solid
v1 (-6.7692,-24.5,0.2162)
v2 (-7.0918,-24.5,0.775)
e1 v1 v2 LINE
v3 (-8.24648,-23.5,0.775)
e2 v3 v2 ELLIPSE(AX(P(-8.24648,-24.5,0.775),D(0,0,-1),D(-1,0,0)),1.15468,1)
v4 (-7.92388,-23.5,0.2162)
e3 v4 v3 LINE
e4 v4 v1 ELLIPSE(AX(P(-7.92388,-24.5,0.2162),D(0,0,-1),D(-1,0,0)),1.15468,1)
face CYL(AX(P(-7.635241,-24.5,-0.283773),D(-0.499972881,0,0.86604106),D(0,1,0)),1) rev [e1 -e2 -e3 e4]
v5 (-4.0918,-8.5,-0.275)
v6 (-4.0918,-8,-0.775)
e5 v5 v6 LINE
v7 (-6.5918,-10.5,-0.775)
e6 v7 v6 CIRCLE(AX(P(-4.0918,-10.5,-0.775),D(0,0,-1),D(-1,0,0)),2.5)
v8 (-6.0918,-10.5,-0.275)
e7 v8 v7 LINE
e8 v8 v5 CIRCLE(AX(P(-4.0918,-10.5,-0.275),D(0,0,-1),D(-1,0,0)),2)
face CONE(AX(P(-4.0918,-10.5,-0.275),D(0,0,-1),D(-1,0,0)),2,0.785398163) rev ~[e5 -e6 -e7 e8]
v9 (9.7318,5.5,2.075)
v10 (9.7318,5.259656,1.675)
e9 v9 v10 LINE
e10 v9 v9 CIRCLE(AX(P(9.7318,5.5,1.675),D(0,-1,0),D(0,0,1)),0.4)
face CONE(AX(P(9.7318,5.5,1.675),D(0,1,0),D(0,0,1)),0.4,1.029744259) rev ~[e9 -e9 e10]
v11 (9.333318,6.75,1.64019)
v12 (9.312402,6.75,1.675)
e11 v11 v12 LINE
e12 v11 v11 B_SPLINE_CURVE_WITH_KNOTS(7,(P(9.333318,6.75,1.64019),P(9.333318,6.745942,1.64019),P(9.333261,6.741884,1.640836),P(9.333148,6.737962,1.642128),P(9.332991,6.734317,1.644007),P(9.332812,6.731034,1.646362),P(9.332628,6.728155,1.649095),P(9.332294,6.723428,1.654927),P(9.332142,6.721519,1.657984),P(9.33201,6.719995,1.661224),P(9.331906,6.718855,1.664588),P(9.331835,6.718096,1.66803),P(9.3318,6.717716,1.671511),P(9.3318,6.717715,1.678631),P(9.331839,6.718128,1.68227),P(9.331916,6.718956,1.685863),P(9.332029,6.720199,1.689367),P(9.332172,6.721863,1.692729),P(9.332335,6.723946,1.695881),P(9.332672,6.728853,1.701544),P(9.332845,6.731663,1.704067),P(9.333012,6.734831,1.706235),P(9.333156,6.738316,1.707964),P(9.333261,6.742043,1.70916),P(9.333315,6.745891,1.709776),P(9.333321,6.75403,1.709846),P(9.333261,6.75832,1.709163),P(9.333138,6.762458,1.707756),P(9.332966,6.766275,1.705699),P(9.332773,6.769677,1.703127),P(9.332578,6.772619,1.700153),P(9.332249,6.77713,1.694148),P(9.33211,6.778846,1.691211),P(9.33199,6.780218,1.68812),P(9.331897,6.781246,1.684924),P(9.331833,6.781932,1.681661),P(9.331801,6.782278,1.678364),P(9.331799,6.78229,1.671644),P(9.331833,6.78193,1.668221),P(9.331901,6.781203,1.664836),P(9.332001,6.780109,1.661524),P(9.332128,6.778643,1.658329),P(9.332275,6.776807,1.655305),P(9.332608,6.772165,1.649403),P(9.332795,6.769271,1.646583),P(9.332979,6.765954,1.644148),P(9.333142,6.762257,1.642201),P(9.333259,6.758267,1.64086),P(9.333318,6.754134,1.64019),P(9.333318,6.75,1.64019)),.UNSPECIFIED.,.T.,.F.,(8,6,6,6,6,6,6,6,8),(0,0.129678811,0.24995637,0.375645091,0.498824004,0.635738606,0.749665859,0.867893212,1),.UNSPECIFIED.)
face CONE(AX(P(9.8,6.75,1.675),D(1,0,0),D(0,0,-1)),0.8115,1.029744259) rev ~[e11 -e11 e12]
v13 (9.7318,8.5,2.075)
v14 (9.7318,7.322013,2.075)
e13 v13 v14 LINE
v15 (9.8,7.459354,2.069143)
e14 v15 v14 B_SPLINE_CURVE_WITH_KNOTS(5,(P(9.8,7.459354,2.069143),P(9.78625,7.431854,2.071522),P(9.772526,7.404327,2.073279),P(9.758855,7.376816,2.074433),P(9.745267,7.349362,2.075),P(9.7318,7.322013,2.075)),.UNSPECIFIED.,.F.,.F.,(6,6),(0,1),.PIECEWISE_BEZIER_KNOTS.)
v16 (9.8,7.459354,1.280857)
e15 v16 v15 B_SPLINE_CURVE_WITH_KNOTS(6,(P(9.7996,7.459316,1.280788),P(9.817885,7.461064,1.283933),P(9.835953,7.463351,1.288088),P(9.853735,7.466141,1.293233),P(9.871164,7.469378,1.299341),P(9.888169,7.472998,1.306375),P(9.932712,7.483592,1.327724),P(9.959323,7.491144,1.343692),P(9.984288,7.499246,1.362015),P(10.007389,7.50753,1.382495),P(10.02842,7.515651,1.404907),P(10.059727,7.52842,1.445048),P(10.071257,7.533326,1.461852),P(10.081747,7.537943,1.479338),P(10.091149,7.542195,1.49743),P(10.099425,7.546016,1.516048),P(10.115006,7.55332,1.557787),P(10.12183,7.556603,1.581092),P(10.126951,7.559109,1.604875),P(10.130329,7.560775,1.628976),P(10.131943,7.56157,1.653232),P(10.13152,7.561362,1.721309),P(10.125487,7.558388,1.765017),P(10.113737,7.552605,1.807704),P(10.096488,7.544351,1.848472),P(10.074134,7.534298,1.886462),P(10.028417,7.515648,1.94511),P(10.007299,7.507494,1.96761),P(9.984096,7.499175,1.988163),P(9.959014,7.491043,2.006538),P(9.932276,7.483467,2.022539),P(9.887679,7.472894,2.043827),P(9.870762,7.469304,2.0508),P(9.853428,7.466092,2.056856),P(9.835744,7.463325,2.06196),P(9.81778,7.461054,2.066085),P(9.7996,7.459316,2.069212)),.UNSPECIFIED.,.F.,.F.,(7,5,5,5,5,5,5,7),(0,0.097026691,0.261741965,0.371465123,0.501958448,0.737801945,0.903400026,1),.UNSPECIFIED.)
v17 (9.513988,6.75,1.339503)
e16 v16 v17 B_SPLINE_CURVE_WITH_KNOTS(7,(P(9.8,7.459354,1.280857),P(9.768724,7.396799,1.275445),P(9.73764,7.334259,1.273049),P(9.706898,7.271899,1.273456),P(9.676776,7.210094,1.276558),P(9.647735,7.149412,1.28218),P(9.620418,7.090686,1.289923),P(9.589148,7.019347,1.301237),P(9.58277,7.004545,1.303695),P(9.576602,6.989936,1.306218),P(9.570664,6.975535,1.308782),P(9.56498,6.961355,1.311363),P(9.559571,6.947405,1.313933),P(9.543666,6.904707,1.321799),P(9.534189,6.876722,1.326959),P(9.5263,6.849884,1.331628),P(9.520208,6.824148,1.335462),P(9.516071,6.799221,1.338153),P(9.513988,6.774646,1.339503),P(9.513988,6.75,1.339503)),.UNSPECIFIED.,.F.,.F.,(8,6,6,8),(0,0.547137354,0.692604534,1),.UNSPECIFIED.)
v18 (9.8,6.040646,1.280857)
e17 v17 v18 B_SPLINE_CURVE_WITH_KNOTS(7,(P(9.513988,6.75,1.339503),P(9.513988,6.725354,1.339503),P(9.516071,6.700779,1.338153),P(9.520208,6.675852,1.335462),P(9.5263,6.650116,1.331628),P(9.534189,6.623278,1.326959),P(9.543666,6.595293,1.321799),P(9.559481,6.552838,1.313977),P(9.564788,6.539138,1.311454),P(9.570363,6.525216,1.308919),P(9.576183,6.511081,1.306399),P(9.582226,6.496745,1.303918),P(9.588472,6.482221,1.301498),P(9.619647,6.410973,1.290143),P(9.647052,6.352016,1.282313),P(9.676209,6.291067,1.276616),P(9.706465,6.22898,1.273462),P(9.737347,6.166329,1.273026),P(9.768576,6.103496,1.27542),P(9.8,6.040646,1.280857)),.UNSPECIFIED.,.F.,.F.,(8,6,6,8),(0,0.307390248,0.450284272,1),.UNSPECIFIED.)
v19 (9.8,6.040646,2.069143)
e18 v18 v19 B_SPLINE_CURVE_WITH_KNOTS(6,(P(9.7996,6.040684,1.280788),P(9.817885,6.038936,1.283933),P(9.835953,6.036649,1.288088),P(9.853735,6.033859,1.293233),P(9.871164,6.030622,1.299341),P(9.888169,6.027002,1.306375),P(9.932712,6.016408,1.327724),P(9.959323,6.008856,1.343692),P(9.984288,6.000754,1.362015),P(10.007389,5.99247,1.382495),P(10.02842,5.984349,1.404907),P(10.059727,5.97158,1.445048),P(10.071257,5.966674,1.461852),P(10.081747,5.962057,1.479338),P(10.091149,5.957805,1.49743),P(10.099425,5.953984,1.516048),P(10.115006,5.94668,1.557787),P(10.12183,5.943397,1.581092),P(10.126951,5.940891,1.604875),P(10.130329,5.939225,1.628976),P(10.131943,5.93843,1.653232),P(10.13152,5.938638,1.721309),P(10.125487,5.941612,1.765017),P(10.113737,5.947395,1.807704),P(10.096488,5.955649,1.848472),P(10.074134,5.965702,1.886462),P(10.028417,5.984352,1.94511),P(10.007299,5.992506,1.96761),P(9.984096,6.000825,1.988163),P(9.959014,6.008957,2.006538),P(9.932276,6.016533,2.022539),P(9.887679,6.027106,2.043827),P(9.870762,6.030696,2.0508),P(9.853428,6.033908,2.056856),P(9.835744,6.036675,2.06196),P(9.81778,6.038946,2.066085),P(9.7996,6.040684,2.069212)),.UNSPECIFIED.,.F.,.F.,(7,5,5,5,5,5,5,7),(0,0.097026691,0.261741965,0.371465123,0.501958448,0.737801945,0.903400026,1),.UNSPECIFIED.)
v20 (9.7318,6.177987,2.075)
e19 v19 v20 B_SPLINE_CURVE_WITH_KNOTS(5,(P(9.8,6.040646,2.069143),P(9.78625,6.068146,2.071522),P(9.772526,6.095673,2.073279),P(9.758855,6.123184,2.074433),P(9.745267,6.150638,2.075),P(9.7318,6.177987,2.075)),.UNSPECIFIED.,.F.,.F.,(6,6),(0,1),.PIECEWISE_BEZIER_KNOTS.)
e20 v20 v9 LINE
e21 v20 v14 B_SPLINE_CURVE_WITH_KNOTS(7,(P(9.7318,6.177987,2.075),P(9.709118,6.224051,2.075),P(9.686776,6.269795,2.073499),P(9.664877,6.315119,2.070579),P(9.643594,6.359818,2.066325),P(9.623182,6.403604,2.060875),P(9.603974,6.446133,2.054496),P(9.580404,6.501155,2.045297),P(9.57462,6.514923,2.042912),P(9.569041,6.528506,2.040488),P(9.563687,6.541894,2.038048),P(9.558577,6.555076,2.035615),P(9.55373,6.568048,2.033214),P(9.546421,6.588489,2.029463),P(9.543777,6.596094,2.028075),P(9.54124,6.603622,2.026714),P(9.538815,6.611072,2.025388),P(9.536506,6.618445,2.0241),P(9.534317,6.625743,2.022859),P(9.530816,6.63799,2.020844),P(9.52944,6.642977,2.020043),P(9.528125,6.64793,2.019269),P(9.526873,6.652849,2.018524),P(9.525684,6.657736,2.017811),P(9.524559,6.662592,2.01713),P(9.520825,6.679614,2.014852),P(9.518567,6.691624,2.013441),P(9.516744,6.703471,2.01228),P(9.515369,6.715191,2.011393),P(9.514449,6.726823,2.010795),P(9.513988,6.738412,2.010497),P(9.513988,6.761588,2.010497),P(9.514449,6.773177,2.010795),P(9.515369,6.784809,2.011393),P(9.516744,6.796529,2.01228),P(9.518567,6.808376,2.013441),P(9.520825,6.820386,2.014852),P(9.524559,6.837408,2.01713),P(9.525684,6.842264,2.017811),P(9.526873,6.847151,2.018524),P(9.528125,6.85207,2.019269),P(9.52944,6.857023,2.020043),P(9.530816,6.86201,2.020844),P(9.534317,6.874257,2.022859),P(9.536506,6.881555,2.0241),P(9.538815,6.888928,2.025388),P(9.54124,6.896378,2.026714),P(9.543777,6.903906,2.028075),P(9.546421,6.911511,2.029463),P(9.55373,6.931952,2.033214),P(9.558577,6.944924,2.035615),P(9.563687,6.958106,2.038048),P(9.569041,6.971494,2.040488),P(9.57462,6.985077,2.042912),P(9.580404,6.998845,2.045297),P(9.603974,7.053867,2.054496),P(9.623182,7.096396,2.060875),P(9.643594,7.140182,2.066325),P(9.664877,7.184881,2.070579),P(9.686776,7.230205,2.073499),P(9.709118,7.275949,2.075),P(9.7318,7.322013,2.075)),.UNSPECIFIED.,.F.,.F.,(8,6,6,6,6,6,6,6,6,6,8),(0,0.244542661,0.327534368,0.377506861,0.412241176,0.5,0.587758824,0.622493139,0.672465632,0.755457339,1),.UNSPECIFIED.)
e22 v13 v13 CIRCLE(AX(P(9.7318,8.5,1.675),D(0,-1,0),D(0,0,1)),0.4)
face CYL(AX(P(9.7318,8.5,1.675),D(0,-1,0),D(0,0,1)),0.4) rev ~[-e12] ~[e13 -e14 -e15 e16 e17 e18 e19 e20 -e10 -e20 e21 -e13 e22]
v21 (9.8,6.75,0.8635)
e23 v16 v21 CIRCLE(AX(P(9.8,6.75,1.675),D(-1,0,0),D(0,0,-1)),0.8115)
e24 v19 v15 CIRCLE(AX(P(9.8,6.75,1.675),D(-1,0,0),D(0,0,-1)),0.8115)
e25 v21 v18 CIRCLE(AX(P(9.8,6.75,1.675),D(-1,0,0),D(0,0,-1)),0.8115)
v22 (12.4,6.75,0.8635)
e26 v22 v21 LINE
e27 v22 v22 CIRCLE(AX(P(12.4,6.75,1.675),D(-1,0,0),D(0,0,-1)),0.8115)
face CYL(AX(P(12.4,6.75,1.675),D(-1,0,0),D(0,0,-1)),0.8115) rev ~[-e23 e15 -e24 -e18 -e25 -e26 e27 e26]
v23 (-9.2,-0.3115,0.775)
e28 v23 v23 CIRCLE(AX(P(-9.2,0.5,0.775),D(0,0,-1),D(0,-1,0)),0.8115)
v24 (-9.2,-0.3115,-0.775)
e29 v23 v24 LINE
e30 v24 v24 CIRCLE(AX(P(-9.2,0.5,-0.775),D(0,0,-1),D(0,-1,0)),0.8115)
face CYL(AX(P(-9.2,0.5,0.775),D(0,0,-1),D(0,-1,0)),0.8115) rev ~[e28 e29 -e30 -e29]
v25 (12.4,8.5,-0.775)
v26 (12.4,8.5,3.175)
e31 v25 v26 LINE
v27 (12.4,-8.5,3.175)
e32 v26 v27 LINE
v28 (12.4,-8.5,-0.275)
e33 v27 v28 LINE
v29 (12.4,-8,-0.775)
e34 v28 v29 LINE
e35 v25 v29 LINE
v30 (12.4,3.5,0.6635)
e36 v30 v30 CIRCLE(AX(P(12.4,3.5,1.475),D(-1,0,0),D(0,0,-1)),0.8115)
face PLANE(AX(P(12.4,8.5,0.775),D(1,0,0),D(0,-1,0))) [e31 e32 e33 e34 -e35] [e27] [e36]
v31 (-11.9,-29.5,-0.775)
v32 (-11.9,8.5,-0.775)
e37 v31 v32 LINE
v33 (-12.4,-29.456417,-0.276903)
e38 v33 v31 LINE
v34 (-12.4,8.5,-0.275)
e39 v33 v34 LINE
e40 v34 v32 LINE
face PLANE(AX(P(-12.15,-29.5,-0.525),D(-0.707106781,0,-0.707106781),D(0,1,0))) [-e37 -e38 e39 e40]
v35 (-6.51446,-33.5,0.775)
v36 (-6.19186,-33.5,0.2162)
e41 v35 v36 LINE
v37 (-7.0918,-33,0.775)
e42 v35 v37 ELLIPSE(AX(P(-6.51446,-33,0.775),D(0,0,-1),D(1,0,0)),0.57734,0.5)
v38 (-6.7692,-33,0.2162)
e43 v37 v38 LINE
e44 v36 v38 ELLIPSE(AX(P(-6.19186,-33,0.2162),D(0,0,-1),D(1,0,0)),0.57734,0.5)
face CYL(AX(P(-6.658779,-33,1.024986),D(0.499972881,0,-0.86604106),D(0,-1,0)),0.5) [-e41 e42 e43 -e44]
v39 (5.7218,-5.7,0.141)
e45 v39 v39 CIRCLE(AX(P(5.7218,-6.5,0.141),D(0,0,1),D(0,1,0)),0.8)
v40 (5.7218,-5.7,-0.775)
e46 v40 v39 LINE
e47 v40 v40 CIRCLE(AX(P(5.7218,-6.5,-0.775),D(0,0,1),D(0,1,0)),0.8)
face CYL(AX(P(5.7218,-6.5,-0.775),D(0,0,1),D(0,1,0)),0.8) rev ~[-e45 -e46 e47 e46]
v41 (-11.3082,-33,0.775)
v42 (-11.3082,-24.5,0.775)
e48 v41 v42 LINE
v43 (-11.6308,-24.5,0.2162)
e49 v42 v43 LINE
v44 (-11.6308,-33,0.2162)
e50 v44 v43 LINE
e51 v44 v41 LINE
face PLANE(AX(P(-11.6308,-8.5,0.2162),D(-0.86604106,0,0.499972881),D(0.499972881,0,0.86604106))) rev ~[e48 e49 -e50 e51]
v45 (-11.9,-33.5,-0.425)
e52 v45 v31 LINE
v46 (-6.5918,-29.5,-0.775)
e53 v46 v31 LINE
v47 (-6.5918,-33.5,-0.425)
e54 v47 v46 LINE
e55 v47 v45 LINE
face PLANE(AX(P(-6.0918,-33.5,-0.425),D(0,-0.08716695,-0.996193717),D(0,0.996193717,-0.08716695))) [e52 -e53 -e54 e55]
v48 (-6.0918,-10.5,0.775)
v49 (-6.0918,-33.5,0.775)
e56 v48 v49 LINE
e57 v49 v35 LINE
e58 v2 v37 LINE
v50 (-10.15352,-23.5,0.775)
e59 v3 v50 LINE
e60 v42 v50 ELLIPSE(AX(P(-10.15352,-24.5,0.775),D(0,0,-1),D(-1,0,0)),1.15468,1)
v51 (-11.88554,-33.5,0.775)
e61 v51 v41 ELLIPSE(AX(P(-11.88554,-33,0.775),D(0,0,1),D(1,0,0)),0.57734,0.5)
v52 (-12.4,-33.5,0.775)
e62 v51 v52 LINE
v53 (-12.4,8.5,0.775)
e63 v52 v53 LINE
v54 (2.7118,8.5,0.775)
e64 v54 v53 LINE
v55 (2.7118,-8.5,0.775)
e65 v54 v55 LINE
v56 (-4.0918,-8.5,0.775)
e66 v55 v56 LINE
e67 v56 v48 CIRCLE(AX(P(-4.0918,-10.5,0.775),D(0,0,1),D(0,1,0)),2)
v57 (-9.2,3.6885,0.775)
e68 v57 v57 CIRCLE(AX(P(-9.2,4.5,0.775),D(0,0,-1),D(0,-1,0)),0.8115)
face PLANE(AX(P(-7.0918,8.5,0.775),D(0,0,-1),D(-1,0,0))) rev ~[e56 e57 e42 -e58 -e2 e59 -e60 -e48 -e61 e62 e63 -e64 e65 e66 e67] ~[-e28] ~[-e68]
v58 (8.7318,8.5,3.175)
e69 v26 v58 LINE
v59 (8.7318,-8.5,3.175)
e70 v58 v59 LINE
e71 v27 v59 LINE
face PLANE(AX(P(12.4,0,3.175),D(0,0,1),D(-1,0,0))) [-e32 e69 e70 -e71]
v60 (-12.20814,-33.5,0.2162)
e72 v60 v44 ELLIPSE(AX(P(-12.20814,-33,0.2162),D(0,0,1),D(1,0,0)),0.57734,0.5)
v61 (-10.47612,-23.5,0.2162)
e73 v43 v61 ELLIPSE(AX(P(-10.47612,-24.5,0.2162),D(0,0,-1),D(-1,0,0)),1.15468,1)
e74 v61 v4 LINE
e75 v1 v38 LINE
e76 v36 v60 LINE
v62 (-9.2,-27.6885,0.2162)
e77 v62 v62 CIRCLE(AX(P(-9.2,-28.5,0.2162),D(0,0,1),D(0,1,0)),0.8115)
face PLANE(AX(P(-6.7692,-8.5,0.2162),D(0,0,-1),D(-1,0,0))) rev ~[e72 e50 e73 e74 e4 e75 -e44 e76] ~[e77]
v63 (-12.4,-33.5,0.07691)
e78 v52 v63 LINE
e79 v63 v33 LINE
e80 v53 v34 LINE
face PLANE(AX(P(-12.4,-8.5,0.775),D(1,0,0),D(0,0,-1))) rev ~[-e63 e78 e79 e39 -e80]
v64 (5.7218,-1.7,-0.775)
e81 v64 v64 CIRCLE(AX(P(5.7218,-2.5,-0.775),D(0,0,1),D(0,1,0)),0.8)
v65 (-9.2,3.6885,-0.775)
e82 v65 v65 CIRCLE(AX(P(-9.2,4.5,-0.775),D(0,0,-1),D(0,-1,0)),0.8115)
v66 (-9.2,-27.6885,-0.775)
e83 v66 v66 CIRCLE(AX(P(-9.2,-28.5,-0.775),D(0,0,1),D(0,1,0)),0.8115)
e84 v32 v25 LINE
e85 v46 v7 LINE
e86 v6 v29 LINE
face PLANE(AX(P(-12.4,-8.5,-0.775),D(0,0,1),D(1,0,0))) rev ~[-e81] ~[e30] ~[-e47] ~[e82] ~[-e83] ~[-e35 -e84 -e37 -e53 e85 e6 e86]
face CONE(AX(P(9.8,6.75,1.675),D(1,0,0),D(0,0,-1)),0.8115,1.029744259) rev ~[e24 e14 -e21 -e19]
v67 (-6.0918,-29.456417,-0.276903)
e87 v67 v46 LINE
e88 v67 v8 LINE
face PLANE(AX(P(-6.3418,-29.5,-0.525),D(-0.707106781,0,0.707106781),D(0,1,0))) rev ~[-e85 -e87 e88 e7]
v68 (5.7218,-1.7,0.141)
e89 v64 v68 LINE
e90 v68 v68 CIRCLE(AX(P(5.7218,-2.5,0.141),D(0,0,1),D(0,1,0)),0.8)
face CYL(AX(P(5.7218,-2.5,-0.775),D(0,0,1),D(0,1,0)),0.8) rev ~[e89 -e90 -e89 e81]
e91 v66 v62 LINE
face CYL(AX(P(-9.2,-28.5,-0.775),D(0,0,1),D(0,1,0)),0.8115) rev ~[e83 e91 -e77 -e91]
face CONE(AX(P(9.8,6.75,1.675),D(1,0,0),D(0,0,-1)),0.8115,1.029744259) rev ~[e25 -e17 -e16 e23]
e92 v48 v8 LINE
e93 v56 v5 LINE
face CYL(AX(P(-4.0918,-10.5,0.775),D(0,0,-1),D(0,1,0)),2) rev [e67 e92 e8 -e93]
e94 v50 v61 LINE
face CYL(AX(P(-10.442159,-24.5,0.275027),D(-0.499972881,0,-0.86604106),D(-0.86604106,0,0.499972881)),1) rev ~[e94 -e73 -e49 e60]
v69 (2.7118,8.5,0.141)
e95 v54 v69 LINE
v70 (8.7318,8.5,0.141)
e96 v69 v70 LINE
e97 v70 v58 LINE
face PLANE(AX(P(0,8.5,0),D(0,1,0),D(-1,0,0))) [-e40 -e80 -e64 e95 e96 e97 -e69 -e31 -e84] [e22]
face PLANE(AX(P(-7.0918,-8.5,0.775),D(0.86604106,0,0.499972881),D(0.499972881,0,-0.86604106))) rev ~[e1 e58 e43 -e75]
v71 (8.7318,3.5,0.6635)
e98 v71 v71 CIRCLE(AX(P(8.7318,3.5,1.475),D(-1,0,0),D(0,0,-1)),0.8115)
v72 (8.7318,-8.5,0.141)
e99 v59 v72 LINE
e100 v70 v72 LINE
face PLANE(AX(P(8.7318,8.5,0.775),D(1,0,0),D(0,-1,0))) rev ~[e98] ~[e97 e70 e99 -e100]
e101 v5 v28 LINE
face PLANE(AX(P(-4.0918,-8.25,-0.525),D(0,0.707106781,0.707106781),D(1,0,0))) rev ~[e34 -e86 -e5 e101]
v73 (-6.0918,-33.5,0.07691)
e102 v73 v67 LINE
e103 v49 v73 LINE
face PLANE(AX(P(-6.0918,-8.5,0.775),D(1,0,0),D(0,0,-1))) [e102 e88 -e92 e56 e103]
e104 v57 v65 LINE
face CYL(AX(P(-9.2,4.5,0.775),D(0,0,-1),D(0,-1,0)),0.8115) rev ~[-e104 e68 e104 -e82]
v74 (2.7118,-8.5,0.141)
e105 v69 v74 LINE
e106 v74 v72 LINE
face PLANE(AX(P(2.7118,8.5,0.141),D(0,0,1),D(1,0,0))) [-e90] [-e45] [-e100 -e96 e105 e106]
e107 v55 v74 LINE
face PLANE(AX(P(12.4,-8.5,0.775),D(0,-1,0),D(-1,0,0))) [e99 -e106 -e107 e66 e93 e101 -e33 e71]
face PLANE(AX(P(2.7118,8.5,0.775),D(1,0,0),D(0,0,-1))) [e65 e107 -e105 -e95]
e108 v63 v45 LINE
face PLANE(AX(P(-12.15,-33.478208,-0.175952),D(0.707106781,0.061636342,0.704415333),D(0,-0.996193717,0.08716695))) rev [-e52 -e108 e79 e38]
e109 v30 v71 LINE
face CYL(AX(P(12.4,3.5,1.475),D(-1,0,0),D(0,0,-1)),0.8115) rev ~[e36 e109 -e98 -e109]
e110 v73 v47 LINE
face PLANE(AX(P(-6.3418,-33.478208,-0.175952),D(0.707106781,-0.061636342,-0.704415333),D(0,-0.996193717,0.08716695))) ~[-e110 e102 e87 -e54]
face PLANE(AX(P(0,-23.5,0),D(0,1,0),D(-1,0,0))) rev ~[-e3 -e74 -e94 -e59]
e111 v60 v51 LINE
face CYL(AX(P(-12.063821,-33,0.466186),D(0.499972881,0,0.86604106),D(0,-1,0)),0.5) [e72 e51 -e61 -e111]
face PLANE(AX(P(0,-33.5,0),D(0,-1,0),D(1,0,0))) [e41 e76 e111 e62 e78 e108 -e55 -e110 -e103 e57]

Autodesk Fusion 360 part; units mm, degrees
sketch "Sketch1" plane through (0, 0, 0) normal (0, 1, 0) x (1, 0, 0)
  line L0 (-12.4, 0.775) -> (12.4, 0.775)
  line L1 (12.4, 0.775) -> (12.4, -0.775)
  line L2 (12.4, -0.775) -> (-12.4, -0.775)
  line L3 (-12.4, -0.775) -> (-12.4, 0.775)
  line L4 (-12.4, 0.775) -> (12.4, -0.775) construction
  line L5 (12.4, 0.775) -> (-12.4, -0.775) construction
  dimension "d1" = 24.8
  dimension "d2" = 1.55
extrude "Extrude1" add sketch "Sketch1" along normal mid plane 17
sketch "Sketch4" plane through (0, 8.5, 0) normal (0, 1, 0) x (-1, 0, 0)
  line L0 (12.4, -0.775) -> (12.4, 0.775)
  line L1 (12.4, 0.775) -> (-12.4, 0.775)
  line L2 (-12.4, 0.775) -> (-12.4, -0.775)
  line L3 (-12.4, -0.775) -> (12.4, -0.775)
  line L4 (7.0918, 0.775) -> (6.7692, 0.2162)
  line L5 (6.7692, 0.2162) -> (11.6308, 0.2162)
  line L6 (11.6308, 0.2162) -> (11.3082, 0.775)
  point P0 (9.2, 0.2162)
  dimension "d11" = 60
  dimension "d12" = 60
  dimension "d13" = 4.2164
  dimension "d14" = 0.5588
  dimension "d47" = 3.2
extrude "Extrude3" cut sketch "Sketch4" against normal up to surface (17 mm away) contours L1 L4 L5 L6
sketch "Sketch2" plane through (0, 8.5, 0) normal (0, 1, 0) x (-1, 0, 0)
  line L0 (7.0918, 0.775) -> (-12.4, 0.775)
  line L1 (-12.4, 0.775) -> (-12.4, -0.775)
  line L2 (-12.4, -0.775) -> (12.4, -0.775)
  line L3 (12.4, -0.775) -> (12.4, 0.775)
  line L4 (-2.7118, 0.141) -> (-8.7318, 0.141)
  line L5 (-8.7318, 0.141) -> (-8.7318, 0.775)
  line L6 (-8.7318, 0.775) -> (-2.7118, 0.775)
  line L7 (-2.7118, 0.775) -> (-2.7118, 0.141)
  line L8 (6.7692, 0.2162) -> (7.0918, 0.775)
  line L9 (12.4, 0.775) -> (11.3082, 0.775)
  line L10 (11.3082, 0.775) -> (11.6308, 0.2162)
  line L11 (11.6308, 0.2162) -> (6.7692, 0.2162)
  dimension "d5" = 6.02
  dimension "d6" = 0.634
  dimension "d50" = 9.481
extrude "Extrude2" cut sketch "Sketch2" against normal up to surface (17 mm away) contours L0 L4 L5 L6 L7
sketch "Sketch6" plane through (0, 0, -0.775) normal (0, 0, -1) x (-1, 0, 0)
  line L0 (5.6836, 7) -> (5.6836, -7)
  line L1 (5.6836, -7) -> (6.75, -7)
  line L2 (6.75, -7) -> (6.75, 7)
  line L3 (6.75, 7) -> (5.6836, 7)
  line L4 (-0.15, 7) -> (-6.25, 7)
  line L5 (-5.7218, -6.5) -> (-5.7218, -2.5)
  line L6 (12.4, -8.5) -> (12.4, 8.5)
  line L7 (12.4, 8.5) -> (-12.4, 8.5)
  line L8 (-12.4, 8.5) -> (-12.4, -8.5)
  line L9 (-12.4, -8.5) -> (12.4, -8.5)
  curve L10
  line L11 (-2.7118, -8.5) -> (-8.7318, -8.5)
  line L12 (-8.7318, -8.5) -> (-8.7318, 8.5)
  line L13 (-8.7318, 8.5) -> (-2.7118, 8.5)
  line L14 (-2.7118, 8.5) -> (-2.7118, -8.5)
  point P0 (-5.7218, 7)
  point P1 (-5.7218, -2.5)
  point P2 (-5.7218, -6.5)
  point P3 (6.75, 0)
  point P4 (-5.7218, -4.5)
  point P5 (-5.7218, -8.5)
  point P6 (-5.7218, -8.5)
  dimension "d22" = 4
  dimension "d51" = 2
hole "Hole2" at (5.7218, -2.5, -0.775) at (5.7218, -6.5, -0.775) direction (0, 0, 1) diameter 1.6 depth 3.517 tip angle 118
sketch "Sketch7" plane through (0, 0, -0.775) normal (0, 0, -1) x (-1, 0, 0)
  line L0 (5.6836, 7) -> (5.6836, -7)
  line L1 (5.6836, -7) -> (6.75, -7)
  line L2 (6.75, -7) -> (6.75, 7)
  line L3 (6.75, 7) -> (5.6836, 7)
  line L4 (-6.25, -7) -> (-0.15, -7)
  circle A0 centre (-5.7218, -2.5) radius 0.8
  circle A1 centre (-5.7218, -6.5) radius 0.8
  line L5 (12.4, -8.5) -> (12.4, 8.5)
  line L6 (12.4, 8.5) -> (-12.4, 8.5)
  line L7 (-12.4, 8.5) -> (-12.4, -8.5)
  line L8 (-12.4, -8.5) -> (12.4, -8.5)
  point P0 (-3.2, -7)
  point P1 (-3.2, -4.5)
  dimension "d26" = 2.5
hole "Hole3" [suppressed]
extrude "Extrude4" add 1 faces at (11.1773, -2.8333, 0.775) along direction (0, 0, 1) blind 2.4
sketch "Sketch10" plane through (12.4, 0, 0) normal (1, 0, 0) x (0, 1, 0)
  line L0 (-8.5, -0.775) -> (8.5, -0.775)
  line L1 (8.5, -0.775) -> (8.5, 3.175)
  line L2 (8.5, 3.175) -> (-8.5, 3.175)
  line L3 (-8.5, 3.175) -> (-8.5, -0.775)
  point P0 (3.5, 1.475)
  dimension "d54" = 2.25
  dimension "d59" = 12
hole "Hole6" at (12.4, 3.5, 1.475) direction (-1, 0, 0) diameter 1.623 depth 6.5 tip angle 118
sketch "Sketch11" plane through (0, 8.5, 0) normal (0, 1, 0) x (-1, 0, 0)
  line L0 (11.6308, 0.2162) -> (6.7692, 0.2162)
  line L1 (7.0918, 0.775) -> (-2.7118, 0.775)
  line L2 (-2.7118, 0.775) -> (-2.7118, 0.141)
  line L3 (-2.7118, 0.141) -> (-8.7318, 0.141)
  line L4 (-8.7318, 0.141) -> (-8.7318, 3.175)
  line L5 (-8.7318, 3.175) -> (-12.4, 3.175)
  line L6 (-12.4, 3.175) -> (-12.4, -0.775)
  line L7 (-12.4, -0.775) -> (12.4, -0.775)
  line L8 (12.4, -0.775) -> (12.4, 0.775)
  line L9 (12.4, 0.775) -> (11.3082, 0.775)
  line L10 (11.3082, 0.775) -> (11.6308, 0.2162)
  line L11 (6.7692, 0.2162) -> (7.0918, 0.775)
  point P0 (-9.7318, 1.675)
  dimension "d60" = 1.5
  dimension "d61" = 1
hole "Hole7" at (9.7318, 8.5, 1.675) direction (0, -1, 0) diameter 0.8 depth 3 tip angle 118
sketch "Sketch12" plane through (12.4, 0, 0) normal (1, 0, 0) x (0, 1, 0)
  circle A0 centre (3.5, 1.475) radius 0.8115
  line L0 (-8.5, -0.775) -> (8.5, -0.775)
  line L1 (8.5, -0.775) -> (8.5, 3.175)
  line L2 (8.5, 3.175) -> (-8.5, 3.175)
  line L3 (-8.5, 3.175) -> (-8.5, -0.775)
  line L4 (8.5, 2.075) -> (8.5, 1.275)
  line L5 (5.5, 2.075) -> (5.5, 1.275)
  point P0 (6.75, 1.675)
  point P1 (8.5, 1.675)
  dimension "d66" = 1.75
hole "Hole8" at (12.4, 6.75, 1.675) direction (-1, 0, 0) diameter 1.623 depth 2.6 tip angle 118
fillet "Fillet1" [suppressed]
sketch "Sketch13" plane through (0, -8.5, 0) normal (0, -1, 0) x (1, 0, 0)
  line L0 (8.7318, 3.175) -> (8.7318, 0.141)
  line L1 (8.7318, 0.141) -> (2.7118, 0.141)
  line L2 (2.7118, 0.141) -> (2.7118, 0.775)
  line L3 (2.7118, 0.775) -> (-7.0918, 0.775)
  line L4 (-7.0918, 0.775) -> (-6.7692, 0.2162)
  line L5 (-6.7692, 0.2162) -> (-11.6308, 0.2162)
  line L6 (-11.6308, 0.2162) -> (-11.3082, 0.775)
  line L7 (-11.3082, 0.775) -> (-12.4, 0.775)
  line L8 (-12.4, 0.775) -> (-12.4, -0.775)
  line L9 (-12.4, -0.775) -> (12.4, -0.775)
  line L10 (12.4, -0.775) -> (12.4, 3.175)
  line L11 (12.4, 3.175) -> (8.7318, 3.175)
  line L12 (2.7118, 0.141) -> (2.7118, -0.775)
  line L13 (-6.0918, 0.775) -> (-6.0918, -0.775)
  dimension "d78" = 1
extrude "Extrude5" add sketch "Sketch13" along normal blind 25 contours L3 L4 L5 L6 L7 L8 L9 L13
sketch "Sketch5" plane through (0, 0, -0.775) normal (0, 0, -1) x (1, 0, 0)
  line L0 (-12.4, -8.5) -> (12.4, -8.5)
  line L1 (12.4, -8.5) -> (12.4, 8.5)
  line L2 (12.4, 8.5) -> (-6.0918, 8.5)
  line L3 (-12.4, 33.5) -> (-12.4, -8.5)
  circle A0 centre (5.7218, 2.5) radius 0.8
  circle A1 centre (5.7218, 6.5) radius 0.8
  line L4 (-6.0918, 33.5) -> (-12.4, 33.5)
  line L5 (-6.7692, 33.5) -> (-11.6308, 33.5)
  line L6 (-6.0918, 8.5) -> (-6.0918, 33.5)
  point P0 (-9.2, 33.5)
  point P1 (-9.2, 28.5)
  dimension "d72" = 5
hole "Hole1" at (-9.2, -28.5, -0.775) direction (0, 0, 1) diameter 1.623 end through all
sketch "Sketch14" plane through (-6.0918, 0, 0) normal (1, 0, 0) x (0, 1, 0)
  line L0 (-8.5, 0.243) -> (8.5, 0.243)
  line L1 (8.5, 0.243) -> (8.5, 0.875)
  line L2 (8.5, 0.875) -> (-8.5, 0.875)
  line L3 (-8.5, 0.875) -> (-8.5, 0.243)
  line L4 (-33.5, -0.425) -> (-29.5, -0.775)
  line L5 (-8.5, -0.775) -> (-8.5, 0.775)
  line L6 (-8.5, 0.775) -> (-33.5, 0.775)
  line L7 (-33.5, 0.775) -> (-33.5, -0.775)
  line L8 (-33.5, -0.775) -> (-8.5, -0.775)
  dimension "d88" = 4
  dimension "d89" = 0.35
extrude "Extrude6" cut sketch "Sketch14" against normal through all contours L4 L7 L8
fillet "Fillet2" radius 0.5 2 edges at (-11.4695, -33.5, 0.4956) (-6.9305, -33.5, 0.4956)
sketch "Sketch15" plane through (0, 8.5, 0) normal (0, 1, 0) x (-1, 0, 0)
  circle A0 centre (-9.7318, 1.675) radius 0.4
  line L0 (-8.7318, 0.141) -> (-8.7318, 3.175)
  line L1 (-8.7318, 3.175) -> (-12.4, 3.175)
  line L2 (-12.4, 3.175) -> (-12.4, -0.775)
  line L3 (-12.4, -0.775) -> (12.4, -0.775)
  line L4 (12.4, -0.775) -> (12.4, 0.775)
  line L5 (12.4, 0.775) -> (11.3082, 0.775)
  line L6 (11.3082, 0.775) -> (11.6308, 0.2162)
  line L7 (11.6308, 0.2162) -> (6.7692, 0.2162)
  line L8 (6.7692, 0.2162) -> (7.0918, 0.775)
  line L9 (7.0918, 0.775) -> (-2.7118, 0.775)
  line L10 (-2.7118, 0.775) -> (-2.7118, 0.141)
  line L11 (-2.7118, 0.141) -> (-8.7318, 0.141)
  line L12 (7.0918, 0.775) -> (11.3082, 0.775)
extrude "Extrude7" add sketch "Sketch15" against normal blind 32 contours L6 L7 L8 L12
sketch "Sketch16" plane through (0, 0, 0.775) normal (0, 0, 1) x (-1, 0, 0)
  ellipse E0 centre (11.8856, 33) end of major axis (11.3082, 33) minor radius 0.5 (11.8856, 33.5) -> (11.3082, 33) ccw
  line L0 (11.3082, 33) -> (11.3082, 23.5)
  line L1 (11.3082, 23.5) -> (7.0918, 23.5)
  line L2 (7.0918, 23.5) -> (7.0918, 33)
  ellipse E1 centre (6.5144, 33) end of major axis (7.0918, 33) minor radius 0.5 (7.0918, 33) -> (6.5144, 33.5) ccw
  line L3 (6.5144, 33.5) -> (6.0918, 33.5)
  line L4 (6.0918, 33.5) -> (6.0918, 8.5)
  line L5 (6.0918, 8.5) -> (-2.7118, 8.5)
  line L6 (-2.7118, 8.5) -> (-2.7118, -8.5)
  line L7 (-2.7118, -8.5) -> (12.4, -8.5)
  line L8 (12.4, -8.5) -> (12.4, 33.5)
  line L9 (12.4, 33.5) -> (11.8856, 33.5)
  point P0 (9.2, 23.5)
  point P1 (9.2, -4.5)
  point P2 (9.2, -0.5)
  dimension "d81" = 4
  dimension "d85" = 4
hole "Hole9" at (-9.2, 4.5, 0.775) at (-9.2, 0.5, 0.775) direction (0, 0, -1) diameter 1.623 depth 9 tip angle 118
fillet "Fillet3" radius 1 2 edges at (-6.9305, -23.5, 0.4956) (-11.4695, -23.5, 0.4956)
fillet "Fillet4" radius 2 1 edges at (-6.0918, -8.5, 0)
chamfer "Chamfer1" distance 0.5 angle 45 3 edges at (-6.0918, -31.5, -0.6) (-12.4, -31.5, -0.6) (-12.4, -10.5, -0.775)
equation "d6 = 0.75 mm - 0.116 mm"
